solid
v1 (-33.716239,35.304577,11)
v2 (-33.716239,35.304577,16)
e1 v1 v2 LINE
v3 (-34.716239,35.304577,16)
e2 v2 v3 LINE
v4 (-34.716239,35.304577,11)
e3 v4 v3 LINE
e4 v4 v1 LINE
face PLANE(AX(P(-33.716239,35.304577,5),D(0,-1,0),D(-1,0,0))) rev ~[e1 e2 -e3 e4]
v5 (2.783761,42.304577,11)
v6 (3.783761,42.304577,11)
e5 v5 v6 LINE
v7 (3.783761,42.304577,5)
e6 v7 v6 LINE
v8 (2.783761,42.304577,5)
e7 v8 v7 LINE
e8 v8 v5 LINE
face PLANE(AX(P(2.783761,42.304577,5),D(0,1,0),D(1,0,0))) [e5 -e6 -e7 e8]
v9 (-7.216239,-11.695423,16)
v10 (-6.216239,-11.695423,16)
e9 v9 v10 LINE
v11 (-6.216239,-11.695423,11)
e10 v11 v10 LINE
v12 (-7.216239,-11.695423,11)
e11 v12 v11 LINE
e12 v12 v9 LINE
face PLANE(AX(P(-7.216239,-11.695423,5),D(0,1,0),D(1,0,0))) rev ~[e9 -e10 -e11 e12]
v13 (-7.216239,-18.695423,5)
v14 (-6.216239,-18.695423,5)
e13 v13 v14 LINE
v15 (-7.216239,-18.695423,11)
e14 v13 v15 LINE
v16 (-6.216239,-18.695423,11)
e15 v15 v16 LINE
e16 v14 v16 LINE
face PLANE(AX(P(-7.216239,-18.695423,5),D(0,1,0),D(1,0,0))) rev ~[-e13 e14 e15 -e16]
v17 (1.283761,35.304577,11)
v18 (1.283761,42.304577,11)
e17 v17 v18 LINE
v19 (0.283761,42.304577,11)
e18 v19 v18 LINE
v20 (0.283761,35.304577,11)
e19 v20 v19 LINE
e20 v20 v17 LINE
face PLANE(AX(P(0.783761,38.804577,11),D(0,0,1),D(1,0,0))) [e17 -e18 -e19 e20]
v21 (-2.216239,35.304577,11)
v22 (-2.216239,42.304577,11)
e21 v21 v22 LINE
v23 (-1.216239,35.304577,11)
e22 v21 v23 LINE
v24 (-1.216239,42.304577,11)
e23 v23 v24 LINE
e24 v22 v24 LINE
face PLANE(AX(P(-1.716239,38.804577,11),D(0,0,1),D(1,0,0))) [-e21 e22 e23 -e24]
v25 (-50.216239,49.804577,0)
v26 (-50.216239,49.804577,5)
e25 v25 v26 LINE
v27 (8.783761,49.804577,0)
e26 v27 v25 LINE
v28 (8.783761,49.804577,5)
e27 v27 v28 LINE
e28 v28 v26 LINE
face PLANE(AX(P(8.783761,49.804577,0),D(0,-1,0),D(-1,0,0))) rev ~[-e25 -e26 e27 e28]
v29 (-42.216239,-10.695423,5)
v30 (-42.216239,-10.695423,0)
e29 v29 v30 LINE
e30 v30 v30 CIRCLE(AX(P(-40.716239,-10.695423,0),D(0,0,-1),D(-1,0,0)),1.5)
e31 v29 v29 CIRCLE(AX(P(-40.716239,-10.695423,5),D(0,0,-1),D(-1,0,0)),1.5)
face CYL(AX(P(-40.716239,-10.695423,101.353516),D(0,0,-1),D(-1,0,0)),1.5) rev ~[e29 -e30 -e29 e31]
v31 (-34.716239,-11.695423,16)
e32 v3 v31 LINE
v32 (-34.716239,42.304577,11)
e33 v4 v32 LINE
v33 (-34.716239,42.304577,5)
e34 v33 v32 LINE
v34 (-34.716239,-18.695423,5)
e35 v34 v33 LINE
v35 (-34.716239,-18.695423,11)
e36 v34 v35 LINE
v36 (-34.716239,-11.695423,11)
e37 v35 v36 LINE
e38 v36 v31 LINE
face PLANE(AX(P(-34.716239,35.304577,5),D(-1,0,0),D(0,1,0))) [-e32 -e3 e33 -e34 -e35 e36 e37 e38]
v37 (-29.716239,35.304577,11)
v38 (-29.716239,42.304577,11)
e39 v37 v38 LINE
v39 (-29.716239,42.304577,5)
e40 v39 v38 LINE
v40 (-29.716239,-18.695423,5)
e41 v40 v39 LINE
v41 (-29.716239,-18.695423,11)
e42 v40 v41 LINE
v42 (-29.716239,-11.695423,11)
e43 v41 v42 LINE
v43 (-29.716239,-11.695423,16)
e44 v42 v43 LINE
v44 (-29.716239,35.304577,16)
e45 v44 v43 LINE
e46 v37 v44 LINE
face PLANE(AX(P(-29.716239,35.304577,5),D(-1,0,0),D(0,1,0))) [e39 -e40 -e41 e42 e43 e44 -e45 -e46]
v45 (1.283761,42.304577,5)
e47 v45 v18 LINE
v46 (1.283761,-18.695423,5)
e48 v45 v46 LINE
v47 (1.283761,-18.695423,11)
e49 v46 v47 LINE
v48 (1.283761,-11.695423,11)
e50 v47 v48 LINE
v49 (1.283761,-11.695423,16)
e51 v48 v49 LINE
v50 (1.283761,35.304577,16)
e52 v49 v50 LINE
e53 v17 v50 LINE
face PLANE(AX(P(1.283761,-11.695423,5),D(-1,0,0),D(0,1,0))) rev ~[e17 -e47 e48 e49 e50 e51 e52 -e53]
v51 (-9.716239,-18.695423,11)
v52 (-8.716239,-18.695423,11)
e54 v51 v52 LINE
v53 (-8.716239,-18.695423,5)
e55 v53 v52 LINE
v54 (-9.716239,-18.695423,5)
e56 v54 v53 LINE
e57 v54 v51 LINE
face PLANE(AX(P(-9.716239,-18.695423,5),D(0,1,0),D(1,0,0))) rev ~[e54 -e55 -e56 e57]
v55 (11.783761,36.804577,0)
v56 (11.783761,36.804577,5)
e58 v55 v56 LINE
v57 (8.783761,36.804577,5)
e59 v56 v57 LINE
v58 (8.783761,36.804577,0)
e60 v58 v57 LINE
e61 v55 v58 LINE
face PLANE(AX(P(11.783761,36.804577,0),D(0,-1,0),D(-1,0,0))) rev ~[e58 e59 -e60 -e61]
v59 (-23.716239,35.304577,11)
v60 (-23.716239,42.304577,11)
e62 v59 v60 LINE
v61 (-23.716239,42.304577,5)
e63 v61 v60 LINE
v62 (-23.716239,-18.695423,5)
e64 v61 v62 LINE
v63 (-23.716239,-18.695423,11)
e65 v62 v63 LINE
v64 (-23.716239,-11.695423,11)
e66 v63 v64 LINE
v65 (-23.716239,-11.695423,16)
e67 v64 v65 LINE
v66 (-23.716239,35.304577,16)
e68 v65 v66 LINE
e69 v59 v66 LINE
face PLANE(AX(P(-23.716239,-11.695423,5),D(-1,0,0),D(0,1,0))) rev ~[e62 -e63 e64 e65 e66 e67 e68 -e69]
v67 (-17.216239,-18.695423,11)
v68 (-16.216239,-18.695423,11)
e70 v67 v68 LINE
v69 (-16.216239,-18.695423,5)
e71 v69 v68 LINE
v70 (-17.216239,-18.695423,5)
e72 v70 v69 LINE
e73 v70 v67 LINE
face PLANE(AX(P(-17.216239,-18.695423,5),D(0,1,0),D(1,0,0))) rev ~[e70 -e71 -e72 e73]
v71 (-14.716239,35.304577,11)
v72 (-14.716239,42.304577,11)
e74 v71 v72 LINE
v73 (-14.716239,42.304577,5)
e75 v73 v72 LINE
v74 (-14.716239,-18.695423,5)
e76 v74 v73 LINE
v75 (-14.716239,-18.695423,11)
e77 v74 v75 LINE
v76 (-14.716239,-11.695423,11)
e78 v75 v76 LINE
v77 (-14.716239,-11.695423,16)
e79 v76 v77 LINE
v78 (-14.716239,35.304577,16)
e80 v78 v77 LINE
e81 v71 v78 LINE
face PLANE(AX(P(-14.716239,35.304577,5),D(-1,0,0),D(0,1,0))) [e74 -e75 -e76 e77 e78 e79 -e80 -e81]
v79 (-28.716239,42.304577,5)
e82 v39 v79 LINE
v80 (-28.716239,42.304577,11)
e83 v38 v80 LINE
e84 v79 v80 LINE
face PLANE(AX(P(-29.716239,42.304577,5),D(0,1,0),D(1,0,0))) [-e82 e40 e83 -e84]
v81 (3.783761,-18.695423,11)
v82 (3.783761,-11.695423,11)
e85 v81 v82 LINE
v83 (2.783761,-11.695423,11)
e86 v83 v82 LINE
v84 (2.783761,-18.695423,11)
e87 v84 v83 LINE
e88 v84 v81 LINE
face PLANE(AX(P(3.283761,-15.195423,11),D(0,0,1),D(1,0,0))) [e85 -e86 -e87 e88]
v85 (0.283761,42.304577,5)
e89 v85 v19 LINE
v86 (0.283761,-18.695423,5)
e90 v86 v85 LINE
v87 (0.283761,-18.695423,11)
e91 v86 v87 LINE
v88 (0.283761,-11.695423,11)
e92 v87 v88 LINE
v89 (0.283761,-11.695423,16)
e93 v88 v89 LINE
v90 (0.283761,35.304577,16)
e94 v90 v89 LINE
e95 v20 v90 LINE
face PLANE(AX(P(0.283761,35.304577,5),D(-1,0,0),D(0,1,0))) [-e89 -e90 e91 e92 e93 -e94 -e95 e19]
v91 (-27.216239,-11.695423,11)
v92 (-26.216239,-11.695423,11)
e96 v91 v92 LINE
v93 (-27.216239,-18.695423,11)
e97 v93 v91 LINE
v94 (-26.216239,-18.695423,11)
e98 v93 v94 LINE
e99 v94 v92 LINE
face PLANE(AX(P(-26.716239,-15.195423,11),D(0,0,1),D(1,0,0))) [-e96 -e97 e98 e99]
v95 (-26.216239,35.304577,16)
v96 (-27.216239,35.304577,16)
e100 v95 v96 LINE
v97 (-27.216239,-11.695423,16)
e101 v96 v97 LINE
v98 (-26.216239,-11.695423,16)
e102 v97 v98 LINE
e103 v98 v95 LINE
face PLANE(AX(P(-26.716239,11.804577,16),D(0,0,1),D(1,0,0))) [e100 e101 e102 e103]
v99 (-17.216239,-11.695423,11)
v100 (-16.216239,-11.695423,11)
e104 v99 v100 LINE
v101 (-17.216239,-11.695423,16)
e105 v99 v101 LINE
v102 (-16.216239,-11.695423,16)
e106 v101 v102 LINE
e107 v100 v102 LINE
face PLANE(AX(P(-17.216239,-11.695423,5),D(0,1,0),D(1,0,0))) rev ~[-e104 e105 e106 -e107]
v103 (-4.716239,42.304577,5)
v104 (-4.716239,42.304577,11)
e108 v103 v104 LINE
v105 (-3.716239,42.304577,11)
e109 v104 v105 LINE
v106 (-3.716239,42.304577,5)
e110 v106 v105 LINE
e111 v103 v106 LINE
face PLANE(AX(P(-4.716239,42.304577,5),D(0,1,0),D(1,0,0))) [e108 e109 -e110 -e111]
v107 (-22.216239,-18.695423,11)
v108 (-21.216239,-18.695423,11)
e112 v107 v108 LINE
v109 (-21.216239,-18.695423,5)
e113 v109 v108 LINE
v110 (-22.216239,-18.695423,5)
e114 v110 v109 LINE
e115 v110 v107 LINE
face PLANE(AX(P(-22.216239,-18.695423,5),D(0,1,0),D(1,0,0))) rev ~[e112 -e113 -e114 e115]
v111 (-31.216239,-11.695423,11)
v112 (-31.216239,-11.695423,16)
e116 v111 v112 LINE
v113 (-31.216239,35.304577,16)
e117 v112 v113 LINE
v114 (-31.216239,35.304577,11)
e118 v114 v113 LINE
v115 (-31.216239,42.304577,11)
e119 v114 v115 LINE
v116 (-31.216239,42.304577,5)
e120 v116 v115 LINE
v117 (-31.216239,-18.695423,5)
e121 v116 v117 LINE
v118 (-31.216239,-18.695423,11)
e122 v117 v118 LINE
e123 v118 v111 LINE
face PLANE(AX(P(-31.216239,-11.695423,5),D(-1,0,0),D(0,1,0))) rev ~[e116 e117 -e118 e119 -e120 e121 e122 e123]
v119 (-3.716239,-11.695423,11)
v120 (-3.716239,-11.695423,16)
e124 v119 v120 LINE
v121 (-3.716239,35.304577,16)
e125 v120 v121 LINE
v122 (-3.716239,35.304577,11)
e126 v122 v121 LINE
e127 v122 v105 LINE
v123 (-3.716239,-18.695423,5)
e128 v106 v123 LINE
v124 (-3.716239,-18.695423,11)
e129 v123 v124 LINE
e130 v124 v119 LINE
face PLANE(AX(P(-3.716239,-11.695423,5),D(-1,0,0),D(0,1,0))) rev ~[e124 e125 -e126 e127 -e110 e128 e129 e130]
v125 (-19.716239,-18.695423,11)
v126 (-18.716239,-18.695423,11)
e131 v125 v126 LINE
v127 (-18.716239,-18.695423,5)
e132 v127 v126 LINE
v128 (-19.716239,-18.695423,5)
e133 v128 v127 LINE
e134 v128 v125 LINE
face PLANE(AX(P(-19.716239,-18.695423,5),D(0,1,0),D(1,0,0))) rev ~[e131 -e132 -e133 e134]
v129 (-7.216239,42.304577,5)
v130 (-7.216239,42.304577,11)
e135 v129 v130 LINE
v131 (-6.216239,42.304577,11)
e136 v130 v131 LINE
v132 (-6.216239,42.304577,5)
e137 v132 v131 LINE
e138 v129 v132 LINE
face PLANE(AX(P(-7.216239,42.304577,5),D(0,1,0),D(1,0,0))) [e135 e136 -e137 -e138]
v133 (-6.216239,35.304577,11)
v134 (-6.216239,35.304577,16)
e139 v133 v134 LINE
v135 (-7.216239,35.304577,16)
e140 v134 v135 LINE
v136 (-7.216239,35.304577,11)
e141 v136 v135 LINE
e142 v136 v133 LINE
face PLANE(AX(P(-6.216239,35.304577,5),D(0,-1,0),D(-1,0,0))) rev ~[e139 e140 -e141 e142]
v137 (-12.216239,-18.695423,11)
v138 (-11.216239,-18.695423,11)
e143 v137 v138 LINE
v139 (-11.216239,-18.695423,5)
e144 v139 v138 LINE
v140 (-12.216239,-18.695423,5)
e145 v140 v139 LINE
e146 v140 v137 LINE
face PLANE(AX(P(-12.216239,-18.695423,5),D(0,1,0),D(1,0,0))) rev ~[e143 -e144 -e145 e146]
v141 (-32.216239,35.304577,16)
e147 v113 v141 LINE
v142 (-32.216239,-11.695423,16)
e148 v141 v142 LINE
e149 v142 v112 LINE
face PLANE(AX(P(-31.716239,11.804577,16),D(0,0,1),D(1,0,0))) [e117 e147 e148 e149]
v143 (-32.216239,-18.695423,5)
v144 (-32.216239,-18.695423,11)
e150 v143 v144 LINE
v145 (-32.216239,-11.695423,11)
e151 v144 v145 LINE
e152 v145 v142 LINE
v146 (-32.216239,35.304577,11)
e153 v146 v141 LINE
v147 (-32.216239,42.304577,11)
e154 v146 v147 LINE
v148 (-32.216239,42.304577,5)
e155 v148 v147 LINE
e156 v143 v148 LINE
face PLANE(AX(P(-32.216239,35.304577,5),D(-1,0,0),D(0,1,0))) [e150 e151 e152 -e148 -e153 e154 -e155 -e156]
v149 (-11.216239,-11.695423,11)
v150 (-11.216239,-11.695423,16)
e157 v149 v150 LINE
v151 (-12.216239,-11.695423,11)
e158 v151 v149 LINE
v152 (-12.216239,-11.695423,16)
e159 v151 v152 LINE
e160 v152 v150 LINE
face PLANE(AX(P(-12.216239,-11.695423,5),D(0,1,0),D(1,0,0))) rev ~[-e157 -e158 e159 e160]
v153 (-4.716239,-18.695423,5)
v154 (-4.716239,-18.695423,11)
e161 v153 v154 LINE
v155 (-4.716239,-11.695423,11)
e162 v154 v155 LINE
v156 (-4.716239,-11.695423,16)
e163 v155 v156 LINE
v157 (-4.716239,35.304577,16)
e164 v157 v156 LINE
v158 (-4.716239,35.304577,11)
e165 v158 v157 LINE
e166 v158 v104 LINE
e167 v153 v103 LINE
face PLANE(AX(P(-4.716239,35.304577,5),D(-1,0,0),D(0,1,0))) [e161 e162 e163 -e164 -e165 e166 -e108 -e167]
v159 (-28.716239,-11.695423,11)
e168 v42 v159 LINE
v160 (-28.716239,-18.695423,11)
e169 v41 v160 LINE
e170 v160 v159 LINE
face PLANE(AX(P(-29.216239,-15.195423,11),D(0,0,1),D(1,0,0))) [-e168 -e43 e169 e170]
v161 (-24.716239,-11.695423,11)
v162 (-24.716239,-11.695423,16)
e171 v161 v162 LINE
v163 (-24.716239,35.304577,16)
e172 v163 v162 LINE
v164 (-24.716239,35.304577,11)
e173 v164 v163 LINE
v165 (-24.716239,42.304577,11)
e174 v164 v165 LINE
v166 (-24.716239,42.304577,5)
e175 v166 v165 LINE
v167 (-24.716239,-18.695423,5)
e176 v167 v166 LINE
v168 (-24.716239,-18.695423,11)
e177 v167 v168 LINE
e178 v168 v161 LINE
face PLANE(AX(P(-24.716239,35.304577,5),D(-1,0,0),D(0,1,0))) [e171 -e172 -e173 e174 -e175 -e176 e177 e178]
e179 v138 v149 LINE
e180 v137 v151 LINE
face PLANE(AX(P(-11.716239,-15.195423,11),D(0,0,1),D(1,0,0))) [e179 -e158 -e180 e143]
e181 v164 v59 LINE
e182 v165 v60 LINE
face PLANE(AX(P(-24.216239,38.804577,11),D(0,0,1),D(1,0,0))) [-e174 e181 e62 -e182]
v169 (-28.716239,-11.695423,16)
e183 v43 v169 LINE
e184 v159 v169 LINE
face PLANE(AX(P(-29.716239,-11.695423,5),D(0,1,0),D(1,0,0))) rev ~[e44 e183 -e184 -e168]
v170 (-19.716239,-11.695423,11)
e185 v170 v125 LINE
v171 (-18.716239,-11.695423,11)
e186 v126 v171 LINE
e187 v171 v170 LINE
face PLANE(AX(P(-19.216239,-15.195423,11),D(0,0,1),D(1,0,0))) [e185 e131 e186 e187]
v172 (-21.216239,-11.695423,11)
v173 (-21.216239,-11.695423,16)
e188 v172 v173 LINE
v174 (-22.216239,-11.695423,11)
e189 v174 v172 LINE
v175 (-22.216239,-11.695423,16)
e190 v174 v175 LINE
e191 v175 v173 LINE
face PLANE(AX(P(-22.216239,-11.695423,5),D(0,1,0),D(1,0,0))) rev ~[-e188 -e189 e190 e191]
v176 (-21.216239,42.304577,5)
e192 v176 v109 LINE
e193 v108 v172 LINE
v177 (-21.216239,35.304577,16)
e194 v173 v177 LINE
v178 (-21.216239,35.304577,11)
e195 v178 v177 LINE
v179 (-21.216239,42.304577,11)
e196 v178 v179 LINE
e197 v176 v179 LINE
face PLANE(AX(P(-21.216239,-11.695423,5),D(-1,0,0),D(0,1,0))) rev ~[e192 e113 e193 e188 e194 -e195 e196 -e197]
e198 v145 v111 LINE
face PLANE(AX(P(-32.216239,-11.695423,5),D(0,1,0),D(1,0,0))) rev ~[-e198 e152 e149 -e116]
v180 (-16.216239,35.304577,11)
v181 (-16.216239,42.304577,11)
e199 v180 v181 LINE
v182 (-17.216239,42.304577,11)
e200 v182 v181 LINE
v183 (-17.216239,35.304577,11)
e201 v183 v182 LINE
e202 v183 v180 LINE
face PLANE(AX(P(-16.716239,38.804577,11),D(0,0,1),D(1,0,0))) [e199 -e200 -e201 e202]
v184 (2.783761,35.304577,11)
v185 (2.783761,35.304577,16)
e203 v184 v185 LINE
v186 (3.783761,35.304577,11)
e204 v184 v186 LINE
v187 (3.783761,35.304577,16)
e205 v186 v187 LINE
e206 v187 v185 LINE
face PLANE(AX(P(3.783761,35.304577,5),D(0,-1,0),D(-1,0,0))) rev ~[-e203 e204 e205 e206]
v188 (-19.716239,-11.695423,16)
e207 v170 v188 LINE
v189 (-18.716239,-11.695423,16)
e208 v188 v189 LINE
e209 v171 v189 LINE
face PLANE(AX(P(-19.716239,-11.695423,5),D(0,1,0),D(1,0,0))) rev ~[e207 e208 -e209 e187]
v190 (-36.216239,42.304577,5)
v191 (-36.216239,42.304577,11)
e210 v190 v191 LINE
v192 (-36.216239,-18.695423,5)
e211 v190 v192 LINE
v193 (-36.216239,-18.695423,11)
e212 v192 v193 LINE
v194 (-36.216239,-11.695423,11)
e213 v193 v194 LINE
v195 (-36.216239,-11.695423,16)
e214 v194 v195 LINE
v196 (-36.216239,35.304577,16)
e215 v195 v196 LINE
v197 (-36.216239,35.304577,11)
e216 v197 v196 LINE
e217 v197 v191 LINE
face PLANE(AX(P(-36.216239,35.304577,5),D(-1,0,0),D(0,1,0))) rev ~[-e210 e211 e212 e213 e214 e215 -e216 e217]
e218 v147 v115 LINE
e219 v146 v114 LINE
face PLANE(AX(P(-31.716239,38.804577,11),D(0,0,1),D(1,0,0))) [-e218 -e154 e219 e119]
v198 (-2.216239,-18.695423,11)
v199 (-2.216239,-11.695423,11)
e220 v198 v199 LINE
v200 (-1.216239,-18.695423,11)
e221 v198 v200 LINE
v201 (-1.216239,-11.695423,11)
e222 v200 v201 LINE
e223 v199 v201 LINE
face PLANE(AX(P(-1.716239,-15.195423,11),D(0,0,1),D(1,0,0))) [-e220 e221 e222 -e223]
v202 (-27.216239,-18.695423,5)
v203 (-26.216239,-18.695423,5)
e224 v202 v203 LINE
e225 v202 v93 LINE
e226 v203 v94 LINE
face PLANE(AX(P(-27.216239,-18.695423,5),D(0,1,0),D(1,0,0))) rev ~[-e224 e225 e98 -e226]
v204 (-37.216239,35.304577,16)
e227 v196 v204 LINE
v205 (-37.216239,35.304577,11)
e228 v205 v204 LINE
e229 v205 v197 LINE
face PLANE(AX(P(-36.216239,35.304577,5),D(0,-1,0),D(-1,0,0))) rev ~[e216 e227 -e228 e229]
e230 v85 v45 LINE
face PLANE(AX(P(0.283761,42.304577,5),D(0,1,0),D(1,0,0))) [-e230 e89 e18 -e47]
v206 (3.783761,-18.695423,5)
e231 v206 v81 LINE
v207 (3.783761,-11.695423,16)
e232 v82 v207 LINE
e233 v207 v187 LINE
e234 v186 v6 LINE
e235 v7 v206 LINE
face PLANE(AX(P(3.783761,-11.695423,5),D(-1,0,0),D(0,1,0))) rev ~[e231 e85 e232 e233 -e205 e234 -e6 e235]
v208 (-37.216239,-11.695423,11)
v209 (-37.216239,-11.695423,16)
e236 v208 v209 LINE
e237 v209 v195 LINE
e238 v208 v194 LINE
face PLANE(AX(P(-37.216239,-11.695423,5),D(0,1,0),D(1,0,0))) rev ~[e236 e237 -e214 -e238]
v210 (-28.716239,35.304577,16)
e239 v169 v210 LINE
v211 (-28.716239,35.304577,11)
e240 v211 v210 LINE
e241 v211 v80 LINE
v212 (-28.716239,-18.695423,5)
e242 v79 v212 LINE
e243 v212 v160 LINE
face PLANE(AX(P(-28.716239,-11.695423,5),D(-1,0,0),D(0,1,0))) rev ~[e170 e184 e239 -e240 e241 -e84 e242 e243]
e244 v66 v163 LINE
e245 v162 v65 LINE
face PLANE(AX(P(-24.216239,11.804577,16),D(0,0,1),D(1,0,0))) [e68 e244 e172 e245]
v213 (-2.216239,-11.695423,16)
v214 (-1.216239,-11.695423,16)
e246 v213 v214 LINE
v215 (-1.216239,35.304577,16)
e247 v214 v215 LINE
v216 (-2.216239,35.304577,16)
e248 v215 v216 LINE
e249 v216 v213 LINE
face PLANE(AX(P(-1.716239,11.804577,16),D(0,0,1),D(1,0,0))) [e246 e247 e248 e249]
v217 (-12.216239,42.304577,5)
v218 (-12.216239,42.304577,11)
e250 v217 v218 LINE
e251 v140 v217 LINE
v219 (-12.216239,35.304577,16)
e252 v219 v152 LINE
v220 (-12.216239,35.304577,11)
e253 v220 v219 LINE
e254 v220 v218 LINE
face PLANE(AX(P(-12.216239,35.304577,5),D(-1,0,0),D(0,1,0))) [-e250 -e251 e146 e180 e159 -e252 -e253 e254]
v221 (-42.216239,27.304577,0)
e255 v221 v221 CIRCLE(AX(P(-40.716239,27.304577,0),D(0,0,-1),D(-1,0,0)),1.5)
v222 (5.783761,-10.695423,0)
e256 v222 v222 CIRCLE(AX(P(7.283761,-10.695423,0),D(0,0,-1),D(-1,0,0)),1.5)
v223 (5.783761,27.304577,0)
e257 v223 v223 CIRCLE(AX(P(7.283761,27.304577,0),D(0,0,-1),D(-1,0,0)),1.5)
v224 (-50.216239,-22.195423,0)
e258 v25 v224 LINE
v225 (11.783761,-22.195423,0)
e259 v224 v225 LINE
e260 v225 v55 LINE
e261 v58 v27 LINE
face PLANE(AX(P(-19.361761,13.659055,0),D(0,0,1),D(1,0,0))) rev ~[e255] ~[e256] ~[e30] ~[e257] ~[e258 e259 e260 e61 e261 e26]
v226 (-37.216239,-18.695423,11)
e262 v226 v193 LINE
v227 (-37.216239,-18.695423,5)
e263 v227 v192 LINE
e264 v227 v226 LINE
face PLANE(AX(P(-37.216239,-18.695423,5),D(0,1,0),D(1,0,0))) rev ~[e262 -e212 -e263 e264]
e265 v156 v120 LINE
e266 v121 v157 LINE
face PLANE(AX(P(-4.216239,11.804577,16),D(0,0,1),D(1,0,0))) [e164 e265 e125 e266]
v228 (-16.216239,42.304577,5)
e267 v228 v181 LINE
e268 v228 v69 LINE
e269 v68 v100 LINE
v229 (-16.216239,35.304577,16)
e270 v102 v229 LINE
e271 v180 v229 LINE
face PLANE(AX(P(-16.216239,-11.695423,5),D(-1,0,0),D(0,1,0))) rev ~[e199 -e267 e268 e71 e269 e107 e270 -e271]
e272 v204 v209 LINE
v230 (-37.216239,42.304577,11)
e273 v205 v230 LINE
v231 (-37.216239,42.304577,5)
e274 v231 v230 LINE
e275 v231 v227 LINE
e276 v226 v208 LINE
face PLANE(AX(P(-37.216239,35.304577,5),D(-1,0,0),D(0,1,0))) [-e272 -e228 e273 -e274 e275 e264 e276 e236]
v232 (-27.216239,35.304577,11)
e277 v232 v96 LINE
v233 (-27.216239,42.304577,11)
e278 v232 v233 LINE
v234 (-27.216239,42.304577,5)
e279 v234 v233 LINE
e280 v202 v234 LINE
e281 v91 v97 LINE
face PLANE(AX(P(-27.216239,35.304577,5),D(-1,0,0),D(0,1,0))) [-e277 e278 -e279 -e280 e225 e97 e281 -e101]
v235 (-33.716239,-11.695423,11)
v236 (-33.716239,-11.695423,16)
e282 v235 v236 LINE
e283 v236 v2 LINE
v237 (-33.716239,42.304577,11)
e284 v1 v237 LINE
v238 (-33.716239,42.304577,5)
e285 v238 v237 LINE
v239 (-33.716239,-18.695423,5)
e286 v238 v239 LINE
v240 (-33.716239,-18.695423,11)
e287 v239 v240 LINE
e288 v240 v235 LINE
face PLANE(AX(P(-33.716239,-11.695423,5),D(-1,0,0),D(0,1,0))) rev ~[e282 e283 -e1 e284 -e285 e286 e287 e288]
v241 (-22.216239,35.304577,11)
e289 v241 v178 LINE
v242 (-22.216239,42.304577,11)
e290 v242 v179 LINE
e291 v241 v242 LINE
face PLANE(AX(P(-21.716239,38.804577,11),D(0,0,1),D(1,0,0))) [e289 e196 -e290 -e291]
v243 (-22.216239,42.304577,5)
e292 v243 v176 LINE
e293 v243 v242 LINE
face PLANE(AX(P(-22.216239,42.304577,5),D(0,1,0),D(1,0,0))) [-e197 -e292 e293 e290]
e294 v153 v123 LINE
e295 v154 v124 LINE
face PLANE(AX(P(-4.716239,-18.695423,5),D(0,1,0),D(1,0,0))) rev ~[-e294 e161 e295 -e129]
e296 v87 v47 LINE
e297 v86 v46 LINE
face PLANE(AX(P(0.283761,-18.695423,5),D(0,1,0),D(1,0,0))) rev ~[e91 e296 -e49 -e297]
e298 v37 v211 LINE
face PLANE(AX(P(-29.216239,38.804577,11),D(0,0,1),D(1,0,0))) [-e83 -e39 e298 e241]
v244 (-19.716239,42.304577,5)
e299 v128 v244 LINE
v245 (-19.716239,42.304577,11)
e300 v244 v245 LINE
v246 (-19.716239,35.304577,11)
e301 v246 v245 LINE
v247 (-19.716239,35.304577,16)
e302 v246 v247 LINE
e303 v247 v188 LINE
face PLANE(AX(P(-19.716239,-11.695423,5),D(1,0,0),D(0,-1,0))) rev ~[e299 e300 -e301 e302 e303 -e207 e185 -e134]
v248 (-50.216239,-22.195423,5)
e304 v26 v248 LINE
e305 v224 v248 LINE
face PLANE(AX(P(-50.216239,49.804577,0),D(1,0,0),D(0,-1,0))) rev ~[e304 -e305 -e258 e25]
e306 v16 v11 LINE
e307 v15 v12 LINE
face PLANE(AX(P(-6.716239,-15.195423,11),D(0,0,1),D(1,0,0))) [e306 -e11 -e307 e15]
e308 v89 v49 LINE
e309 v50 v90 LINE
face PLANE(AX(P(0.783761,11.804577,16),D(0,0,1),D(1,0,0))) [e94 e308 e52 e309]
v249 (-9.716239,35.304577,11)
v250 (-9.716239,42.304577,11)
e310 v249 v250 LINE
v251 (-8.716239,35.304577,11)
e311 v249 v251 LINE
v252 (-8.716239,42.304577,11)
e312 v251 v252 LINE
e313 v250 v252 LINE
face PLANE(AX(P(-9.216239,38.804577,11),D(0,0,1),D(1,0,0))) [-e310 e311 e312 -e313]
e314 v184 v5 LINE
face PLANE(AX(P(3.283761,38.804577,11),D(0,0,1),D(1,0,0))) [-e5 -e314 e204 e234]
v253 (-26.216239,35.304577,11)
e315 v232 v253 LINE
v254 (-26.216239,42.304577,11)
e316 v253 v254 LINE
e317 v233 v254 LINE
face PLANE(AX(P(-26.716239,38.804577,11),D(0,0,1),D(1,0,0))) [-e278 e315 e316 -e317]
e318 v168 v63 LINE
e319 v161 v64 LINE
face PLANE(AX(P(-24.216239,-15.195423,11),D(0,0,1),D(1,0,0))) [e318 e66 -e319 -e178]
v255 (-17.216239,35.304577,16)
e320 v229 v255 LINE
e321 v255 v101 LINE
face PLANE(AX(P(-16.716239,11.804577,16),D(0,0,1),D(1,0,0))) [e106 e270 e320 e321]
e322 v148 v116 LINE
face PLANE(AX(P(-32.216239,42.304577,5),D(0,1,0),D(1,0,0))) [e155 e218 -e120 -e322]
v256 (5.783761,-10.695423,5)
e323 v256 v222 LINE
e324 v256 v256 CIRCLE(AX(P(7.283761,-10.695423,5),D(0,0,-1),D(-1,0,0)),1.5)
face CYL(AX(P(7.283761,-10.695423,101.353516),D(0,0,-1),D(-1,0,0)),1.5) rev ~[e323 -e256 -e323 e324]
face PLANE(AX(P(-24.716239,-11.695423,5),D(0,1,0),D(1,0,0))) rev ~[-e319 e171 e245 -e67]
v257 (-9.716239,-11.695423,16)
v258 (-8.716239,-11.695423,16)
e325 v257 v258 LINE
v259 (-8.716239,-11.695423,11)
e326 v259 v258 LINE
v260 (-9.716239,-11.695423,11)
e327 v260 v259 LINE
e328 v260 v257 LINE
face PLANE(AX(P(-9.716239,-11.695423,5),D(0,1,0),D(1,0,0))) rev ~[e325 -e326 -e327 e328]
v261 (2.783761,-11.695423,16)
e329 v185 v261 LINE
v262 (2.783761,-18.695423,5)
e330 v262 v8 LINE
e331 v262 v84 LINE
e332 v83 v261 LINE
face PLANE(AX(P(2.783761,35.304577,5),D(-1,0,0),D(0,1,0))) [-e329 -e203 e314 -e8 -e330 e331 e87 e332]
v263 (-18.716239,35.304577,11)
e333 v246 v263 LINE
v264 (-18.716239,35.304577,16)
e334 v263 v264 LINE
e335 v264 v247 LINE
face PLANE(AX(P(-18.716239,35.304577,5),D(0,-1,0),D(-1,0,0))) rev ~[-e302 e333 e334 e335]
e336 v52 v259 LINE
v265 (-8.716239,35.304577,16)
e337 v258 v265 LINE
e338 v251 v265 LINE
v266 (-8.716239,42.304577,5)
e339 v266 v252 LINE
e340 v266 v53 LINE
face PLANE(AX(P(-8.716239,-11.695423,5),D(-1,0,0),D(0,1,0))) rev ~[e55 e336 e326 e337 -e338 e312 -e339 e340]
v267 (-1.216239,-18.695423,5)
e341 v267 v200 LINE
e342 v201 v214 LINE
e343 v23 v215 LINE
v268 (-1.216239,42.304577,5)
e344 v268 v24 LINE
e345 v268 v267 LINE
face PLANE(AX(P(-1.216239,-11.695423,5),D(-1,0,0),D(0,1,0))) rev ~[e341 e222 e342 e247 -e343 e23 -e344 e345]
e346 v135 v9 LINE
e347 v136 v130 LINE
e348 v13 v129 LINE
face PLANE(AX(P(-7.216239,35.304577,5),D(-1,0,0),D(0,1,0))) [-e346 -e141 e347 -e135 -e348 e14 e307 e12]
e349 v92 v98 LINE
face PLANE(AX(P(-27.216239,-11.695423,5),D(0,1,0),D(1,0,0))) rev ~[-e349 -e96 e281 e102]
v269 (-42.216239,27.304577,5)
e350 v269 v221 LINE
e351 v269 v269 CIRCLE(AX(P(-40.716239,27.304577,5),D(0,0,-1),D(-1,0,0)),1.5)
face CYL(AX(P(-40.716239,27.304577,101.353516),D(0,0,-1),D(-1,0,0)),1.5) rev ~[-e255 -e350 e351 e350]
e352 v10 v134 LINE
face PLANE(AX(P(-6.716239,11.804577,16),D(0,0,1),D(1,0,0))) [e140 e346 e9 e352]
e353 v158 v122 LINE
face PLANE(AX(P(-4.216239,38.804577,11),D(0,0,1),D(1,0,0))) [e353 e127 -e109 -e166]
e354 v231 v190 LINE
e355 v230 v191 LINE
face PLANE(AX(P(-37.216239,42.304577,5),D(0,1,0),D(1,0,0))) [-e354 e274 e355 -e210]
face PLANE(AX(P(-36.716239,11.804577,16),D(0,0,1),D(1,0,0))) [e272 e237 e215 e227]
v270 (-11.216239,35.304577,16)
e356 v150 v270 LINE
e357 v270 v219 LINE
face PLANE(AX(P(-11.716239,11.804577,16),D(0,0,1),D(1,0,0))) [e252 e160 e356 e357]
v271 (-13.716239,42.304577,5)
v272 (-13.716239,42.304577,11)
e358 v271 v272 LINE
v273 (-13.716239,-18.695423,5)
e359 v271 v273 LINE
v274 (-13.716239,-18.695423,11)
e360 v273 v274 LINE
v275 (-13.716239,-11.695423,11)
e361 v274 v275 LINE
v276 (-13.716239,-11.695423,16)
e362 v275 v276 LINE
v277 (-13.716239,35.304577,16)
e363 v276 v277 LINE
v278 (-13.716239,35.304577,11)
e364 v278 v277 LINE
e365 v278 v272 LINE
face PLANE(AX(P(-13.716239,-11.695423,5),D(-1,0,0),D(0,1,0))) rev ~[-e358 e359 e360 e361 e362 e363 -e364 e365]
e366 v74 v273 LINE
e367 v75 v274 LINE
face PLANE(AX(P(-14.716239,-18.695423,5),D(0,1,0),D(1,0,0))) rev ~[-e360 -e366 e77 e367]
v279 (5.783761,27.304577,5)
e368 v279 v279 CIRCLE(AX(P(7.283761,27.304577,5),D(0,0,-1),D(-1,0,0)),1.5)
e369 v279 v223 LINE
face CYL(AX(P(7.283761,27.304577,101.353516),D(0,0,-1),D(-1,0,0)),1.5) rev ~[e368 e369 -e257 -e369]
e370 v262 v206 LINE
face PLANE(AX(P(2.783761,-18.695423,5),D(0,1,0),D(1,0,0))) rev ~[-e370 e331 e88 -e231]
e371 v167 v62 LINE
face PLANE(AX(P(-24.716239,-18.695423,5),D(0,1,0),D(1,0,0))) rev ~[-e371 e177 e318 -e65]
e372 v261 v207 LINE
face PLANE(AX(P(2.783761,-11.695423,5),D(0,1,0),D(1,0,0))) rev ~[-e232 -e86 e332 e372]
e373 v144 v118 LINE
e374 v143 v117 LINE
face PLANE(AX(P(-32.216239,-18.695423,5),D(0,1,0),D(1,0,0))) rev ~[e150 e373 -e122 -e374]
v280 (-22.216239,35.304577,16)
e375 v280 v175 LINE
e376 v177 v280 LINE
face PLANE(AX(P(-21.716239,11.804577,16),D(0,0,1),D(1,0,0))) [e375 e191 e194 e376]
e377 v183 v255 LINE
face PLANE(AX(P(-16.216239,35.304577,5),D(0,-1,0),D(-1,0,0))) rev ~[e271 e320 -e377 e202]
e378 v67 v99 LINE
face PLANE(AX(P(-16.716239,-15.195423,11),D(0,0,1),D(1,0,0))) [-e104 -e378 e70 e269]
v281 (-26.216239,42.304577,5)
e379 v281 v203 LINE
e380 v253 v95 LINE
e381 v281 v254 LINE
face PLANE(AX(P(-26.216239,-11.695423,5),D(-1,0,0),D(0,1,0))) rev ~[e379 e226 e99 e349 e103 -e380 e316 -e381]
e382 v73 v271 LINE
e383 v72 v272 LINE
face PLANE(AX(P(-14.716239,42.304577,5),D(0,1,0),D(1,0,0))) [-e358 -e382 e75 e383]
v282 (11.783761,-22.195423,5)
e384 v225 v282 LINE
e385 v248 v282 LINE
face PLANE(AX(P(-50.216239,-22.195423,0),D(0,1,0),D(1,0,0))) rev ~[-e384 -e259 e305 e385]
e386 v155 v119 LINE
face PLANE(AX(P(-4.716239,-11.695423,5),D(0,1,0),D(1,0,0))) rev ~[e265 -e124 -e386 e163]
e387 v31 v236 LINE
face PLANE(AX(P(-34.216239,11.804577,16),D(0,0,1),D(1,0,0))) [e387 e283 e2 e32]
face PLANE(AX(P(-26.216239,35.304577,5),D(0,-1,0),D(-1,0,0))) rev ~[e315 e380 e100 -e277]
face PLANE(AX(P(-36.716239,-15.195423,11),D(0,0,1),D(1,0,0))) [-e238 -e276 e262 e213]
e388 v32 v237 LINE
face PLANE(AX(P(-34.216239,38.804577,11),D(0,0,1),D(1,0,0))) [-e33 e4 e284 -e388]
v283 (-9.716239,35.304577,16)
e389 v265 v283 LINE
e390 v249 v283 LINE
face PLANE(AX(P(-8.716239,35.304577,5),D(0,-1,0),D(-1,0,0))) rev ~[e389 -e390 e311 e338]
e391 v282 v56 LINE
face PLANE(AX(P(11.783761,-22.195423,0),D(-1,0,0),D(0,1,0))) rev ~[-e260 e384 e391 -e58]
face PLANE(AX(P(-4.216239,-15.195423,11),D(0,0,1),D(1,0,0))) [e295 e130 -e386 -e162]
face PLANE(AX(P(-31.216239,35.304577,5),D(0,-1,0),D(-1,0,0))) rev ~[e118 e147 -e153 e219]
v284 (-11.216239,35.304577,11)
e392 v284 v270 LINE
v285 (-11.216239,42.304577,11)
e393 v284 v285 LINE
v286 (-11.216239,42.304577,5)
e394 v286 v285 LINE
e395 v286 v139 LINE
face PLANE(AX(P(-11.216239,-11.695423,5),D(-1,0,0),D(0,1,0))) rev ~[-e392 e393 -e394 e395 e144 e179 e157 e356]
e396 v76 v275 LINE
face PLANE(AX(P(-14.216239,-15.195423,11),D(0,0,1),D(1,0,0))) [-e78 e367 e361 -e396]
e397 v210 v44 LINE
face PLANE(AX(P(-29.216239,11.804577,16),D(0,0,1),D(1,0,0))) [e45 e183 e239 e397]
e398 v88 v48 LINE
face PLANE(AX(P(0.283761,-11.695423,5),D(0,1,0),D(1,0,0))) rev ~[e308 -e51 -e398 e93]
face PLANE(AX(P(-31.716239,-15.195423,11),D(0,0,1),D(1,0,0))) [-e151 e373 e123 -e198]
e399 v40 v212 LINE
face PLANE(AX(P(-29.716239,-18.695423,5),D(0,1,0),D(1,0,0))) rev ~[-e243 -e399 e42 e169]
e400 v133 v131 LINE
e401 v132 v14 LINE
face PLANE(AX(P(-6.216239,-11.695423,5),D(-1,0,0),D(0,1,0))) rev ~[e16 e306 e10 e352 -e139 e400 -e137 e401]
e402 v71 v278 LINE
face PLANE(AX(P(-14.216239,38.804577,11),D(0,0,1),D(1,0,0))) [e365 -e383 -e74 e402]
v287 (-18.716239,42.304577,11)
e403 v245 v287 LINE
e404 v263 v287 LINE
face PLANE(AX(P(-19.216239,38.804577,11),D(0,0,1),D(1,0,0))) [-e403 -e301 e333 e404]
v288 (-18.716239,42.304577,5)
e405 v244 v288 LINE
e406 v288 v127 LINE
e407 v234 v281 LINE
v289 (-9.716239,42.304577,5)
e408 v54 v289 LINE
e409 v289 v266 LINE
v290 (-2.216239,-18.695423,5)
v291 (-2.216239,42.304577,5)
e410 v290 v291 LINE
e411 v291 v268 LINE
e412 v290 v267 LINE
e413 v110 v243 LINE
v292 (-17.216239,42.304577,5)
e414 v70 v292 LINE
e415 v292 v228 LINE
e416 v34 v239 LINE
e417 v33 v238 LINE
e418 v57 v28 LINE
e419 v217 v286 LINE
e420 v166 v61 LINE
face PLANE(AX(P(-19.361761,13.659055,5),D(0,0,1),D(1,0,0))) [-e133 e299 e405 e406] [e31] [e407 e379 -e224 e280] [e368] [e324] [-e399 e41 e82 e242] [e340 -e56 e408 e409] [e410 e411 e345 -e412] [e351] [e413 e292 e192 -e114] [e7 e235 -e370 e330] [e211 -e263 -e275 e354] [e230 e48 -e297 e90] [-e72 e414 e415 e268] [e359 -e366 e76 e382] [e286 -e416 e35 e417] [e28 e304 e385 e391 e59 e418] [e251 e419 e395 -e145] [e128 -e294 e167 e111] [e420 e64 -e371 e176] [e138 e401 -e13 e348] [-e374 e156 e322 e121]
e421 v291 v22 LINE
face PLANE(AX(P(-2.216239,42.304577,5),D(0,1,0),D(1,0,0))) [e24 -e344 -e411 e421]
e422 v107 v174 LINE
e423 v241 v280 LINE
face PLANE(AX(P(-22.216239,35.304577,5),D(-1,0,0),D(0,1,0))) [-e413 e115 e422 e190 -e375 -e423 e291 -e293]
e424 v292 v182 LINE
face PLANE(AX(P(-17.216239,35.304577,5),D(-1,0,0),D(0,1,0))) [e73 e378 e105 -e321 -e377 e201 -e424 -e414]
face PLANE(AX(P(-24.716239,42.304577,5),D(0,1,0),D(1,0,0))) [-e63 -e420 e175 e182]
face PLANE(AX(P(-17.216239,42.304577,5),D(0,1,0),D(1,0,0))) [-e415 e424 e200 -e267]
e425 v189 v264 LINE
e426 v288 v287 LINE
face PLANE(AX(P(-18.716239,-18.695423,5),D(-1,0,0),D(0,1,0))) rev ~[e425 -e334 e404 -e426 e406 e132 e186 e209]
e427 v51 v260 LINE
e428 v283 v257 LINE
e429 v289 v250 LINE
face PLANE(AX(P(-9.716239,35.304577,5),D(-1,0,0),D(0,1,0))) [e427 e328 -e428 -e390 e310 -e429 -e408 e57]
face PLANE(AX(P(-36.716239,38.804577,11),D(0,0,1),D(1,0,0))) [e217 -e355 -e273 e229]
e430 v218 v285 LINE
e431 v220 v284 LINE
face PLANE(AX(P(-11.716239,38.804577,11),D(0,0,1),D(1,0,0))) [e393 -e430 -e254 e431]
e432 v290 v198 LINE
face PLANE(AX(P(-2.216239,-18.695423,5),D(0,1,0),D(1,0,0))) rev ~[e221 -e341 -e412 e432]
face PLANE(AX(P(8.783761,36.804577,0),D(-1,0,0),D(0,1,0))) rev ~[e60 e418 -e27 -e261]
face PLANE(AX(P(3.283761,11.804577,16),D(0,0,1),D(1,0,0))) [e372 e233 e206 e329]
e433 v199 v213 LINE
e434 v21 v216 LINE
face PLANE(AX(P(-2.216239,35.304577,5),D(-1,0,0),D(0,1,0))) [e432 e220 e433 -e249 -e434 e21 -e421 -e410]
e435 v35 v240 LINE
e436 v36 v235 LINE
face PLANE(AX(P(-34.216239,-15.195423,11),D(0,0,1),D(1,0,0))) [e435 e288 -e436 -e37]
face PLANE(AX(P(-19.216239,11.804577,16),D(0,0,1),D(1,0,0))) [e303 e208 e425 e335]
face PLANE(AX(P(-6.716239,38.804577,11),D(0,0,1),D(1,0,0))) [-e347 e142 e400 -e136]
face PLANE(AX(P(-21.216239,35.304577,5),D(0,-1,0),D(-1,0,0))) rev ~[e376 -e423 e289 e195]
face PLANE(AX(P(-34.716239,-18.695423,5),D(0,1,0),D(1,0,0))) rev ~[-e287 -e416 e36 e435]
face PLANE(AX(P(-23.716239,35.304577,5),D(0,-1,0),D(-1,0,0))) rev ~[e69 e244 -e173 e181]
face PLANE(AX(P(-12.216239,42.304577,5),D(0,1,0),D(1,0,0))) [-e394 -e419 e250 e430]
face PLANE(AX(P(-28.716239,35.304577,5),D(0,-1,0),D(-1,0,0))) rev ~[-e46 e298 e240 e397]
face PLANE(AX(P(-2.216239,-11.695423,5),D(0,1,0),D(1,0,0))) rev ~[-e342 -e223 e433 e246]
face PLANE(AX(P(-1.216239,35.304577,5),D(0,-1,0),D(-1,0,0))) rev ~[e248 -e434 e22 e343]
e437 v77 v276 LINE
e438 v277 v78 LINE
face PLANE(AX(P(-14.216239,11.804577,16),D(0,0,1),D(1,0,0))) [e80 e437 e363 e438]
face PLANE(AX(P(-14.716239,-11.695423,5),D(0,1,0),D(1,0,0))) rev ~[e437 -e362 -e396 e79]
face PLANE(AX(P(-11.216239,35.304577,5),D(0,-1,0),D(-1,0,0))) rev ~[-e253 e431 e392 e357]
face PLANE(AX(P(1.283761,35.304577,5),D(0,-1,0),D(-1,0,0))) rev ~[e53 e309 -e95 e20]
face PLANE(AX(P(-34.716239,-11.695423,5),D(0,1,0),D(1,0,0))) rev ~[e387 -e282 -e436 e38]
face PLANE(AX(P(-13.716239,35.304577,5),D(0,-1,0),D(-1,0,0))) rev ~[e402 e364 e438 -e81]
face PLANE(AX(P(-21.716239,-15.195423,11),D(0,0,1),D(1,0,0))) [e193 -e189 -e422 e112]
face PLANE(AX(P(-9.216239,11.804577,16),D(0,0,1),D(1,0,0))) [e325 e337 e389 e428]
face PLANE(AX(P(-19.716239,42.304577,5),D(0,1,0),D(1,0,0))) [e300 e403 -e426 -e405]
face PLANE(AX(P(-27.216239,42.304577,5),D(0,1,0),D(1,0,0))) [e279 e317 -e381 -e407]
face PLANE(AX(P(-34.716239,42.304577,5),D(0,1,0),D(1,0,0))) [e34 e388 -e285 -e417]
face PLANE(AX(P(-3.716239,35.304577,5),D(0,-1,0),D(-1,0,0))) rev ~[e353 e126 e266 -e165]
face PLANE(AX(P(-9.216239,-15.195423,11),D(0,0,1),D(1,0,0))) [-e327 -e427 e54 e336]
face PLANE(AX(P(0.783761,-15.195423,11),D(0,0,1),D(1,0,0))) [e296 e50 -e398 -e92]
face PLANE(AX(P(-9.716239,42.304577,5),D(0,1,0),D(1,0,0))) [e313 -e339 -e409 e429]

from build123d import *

# Parameters (mm, degrees)
F1_DEPTH = 5
F3_DEPTH = 11
F2_W     = 1
F2_H     = 7
F4_DEPTH = 6
F5_D     = 3


with BuildPart() as f1:
    # F0 (on Top) → F1 (new body)
    with BuildSketch(Plane.XY):
        Polygon((8.783761, 49.804577), (-50.216239, 49.804577), (-50.216239, -22.195423), (11.783761, -22.195423), (11.783761, 36.804577), (8.783761, 36.804577), align=None)
    extrude(amount=F1_DEPTH)

    # F2 (on face) → F3 (join)
    with BuildSketch(Plane.XY.offset(5)):
        Polygon((-37.216239, 35.304577), (-37.216239, 13.804577), (-37.216239, -11.695423), (-36.216239, -11.695423), (-36.216239, 35.304577), align=None)
        Polygon((-33.716239, -11.695423), (-33.716239, 35.304577), (-34.716239, 35.304577), (-34.716239, 13.804577), (-34.716239, -11.695423), align=None)
        Polygon((-31.216239, -11.695423), (-31.216239, 35.304577), (-32.216239, 35.304577), (-32.216239, 13.804577), (-32.216239, -11.695423), align=None)
        Polygon((-28.716239, -11.695423), (-28.716239, 35.304577), (-29.716239, 35.304577), (-29.716239, 13.804577), (-29.716239, -11.695423), align=None)
        Polygon((-26.216239, -11.695423), (-26.216239, 35.304577), (-27.216239, 35.304577), (-27.216239, 13.804577), (-27.216239, -11.695423), align=None)
        Polygon((-23.716239, -11.695423), (-23.716239, 35.304577), (-24.716239, 35.304577), (-24.716239, 13.804577), (-24.716239, -11.695423), align=None)
        Polygon((-21.216239, -11.695423), (-21.216239, 35.304577), (-22.216239, 35.304577), (-22.216239, 13.804577), (-22.216239, -11.695423), align=None)
        Polygon((-19.716239, -11.695423), (-18.716239, -11.695423), (-18.716239, 35.304577), (-19.716239, 35.304577), (-19.716239, 13.804577), align=None)
        Polygon((-16.216239, -11.695423), (-16.216239, 35.304577), (-17.216239, 35.304577), (-17.216239, 13.804577), (-17.216239, -11.695423), align=None)
        Polygon((-13.716239, -11.695423), (-13.716239, 35.304577), (-14.716239, 35.304577), (-14.716239, 13.804577), (-14.716239, -11.695423), align=None)
        Polygon((-11.216239, -11.695423), (-11.216239, 35.304577), (-12.216239, 35.304577), (-12.216239, 13.804577), (-12.216239, -11.695423), align=None)
        Polygon((-8.716239, -11.695423), (-8.716239, 35.304577), (-9.716239, 35.304577), (-9.716239, 13.804577), (-9.716239, -11.695423), align=None)
        Polygon((-6.216239, -11.695423), (-6.216239, 35.304577), (-7.216239, 35.304577), (-7.216239, 13.804577), (-7.216239, -11.695423), align=None)
        Polygon((-3.716239, -11.695423), (-3.716239, 35.304577), (-4.716239, 35.304577), (-4.716239, 13.804577), (-4.716239, -11.695423), align=None)
        Polygon((-1.216239, -11.695423), (-1.216239, 35.304577), (-2.216239, 35.304577), (-2.216239, 13.804577), (-2.216239, -11.695423), align=None)
        Polygon((1.283761, -11.695423), (1.283761, 35.304577), (0.283761, 35.304577), (0.283761, 13.804577), (0.283761, -11.695423), align=None)
        Polygon((3.783761, -11.695423), (3.783761, 35.304577), (2.783761, 35.304577), (2.783761, 13.804577), (2.783761, -11.695423), align=None)
    extrude(amount=F3_DEPTH)

    # F2 (on face) → F4 (join)
    with BuildSketch(Plane.XY.offset(5)):
        with Locations((-36.716239, 38.804577)):
            Rectangle(F2_W, F2_H)
        with Locations((-34.216239, 38.804577)):
            Rectangle(F2_W, F2_H)
        with Locations((-31.716239, 38.804577)):
            Rectangle(F2_W, F2_H)
        with Locations((-29.216239, 38.804577)):
            Rectangle(F2_W, F2_H)
        with Locations((-26.716239, 38.804577)):
            Rectangle(F2_W, F2_H)
        with Locations((-24.216239, 38.804577)):
            Rectangle(F2_W, F2_H)
        with Locations((-21.716239, 38.804577)):
            Rectangle(F2_W, F2_H)
        with Locations((-19.216239, 38.804577)):
            Rectangle(F2_W, F2_H)
        with Locations((-16.716239, 38.804577)):
            Rectangle(F2_W, F2_H)
        with Locations((-14.216239, 38.804577)):
            Rectangle(F2_W, F2_H)
        with Locations((-11.716239, 38.804577)):
            Rectangle(F2_W, F2_H)
        with Locations((-9.216239, 38.804577)):
            Rectangle(F2_W, F2_H)
        with Locations((-6.716239, 38.804577)):
            Rectangle(F2_W, F2_H)
        with Locations((-4.216239, 38.804577)):
            Rectangle(F2_W, F2_H)
        with Locations((-1.716239, 38.804577)):
            Rectangle(F2_W, F2_H)
        with Locations((0.783761, 38.804577)):
            Rectangle(F2_W, F2_H)
        with Locations((3.283761, 38.804577)):
            Rectangle(F2_W, F2_H)
        with Locations((3.283761, -15.195423)):
            Rectangle(F2_W, F2_H)
        with Locations((0.783761, -15.195423)):
            Rectangle(F2_W, F2_H)
        with Locations((-1.716239, -15.195423)):
            Rectangle(F2_W, F2_H)
        with Locations((-4.216239, -15.195423)):
            Rectangle(F2_W, F2_H)
        with Locations((-6.716239, -15.195423)):
            Rectangle(F2_W, F2_H)
        with Locations((-9.216239, -15.195423)):
            Rectangle(F2_W, F2_H)
        with Locations((-11.716239, -15.195423)):
            Rectangle(F2_W, F2_H)
        with Locations((-14.216239, -15.195423)):
            Rectangle(F2_W, F2_H)
        with Locations((-16.716239, -15.195423)):
            Rectangle(F2_W, F2_H)
        Polygon((-19.716239, -18.695423), (-19.216239, -18.695423), (-18.716239, -18.695423), (-18.716239, -11.695423), (-19.716239, -11.695423), align=None)
        with Locations((-21.716239, -15.195423)):
            Rectangle(F2_W, F2_H)
        with Locations((-24.216239, -15.195423)):
            Rectangle(F2_W, F2_H)
        with Locations((-26.716239, -15.195423)):
            Rectangle(F2_W, F2_H)
        with Locations((-29.216239, -15.195423)):
            Rectangle(F2_W, F2_H)
        with Locations((-31.716239, -15.195423)):
            Rectangle(F2_W, F2_H)
        with Locations((-34.216239, -15.195423)):
            Rectangle(F2_W, F2_H)
        with Locations((-36.716239, -15.195423)):
            Rectangle(F2_W, F2_H)
    extrude(amount=F4_DEPTH)

    # F5 (through all)
    with Locations(Plane.XY.offset(5)):
        with Locations((-40.716239, 27.304577), (7.283761, 27.304577), (7.283761, -10.695423), (-40.716239, -10.695423)):
            Hole(F5_D / 2)


solid = f1.part
